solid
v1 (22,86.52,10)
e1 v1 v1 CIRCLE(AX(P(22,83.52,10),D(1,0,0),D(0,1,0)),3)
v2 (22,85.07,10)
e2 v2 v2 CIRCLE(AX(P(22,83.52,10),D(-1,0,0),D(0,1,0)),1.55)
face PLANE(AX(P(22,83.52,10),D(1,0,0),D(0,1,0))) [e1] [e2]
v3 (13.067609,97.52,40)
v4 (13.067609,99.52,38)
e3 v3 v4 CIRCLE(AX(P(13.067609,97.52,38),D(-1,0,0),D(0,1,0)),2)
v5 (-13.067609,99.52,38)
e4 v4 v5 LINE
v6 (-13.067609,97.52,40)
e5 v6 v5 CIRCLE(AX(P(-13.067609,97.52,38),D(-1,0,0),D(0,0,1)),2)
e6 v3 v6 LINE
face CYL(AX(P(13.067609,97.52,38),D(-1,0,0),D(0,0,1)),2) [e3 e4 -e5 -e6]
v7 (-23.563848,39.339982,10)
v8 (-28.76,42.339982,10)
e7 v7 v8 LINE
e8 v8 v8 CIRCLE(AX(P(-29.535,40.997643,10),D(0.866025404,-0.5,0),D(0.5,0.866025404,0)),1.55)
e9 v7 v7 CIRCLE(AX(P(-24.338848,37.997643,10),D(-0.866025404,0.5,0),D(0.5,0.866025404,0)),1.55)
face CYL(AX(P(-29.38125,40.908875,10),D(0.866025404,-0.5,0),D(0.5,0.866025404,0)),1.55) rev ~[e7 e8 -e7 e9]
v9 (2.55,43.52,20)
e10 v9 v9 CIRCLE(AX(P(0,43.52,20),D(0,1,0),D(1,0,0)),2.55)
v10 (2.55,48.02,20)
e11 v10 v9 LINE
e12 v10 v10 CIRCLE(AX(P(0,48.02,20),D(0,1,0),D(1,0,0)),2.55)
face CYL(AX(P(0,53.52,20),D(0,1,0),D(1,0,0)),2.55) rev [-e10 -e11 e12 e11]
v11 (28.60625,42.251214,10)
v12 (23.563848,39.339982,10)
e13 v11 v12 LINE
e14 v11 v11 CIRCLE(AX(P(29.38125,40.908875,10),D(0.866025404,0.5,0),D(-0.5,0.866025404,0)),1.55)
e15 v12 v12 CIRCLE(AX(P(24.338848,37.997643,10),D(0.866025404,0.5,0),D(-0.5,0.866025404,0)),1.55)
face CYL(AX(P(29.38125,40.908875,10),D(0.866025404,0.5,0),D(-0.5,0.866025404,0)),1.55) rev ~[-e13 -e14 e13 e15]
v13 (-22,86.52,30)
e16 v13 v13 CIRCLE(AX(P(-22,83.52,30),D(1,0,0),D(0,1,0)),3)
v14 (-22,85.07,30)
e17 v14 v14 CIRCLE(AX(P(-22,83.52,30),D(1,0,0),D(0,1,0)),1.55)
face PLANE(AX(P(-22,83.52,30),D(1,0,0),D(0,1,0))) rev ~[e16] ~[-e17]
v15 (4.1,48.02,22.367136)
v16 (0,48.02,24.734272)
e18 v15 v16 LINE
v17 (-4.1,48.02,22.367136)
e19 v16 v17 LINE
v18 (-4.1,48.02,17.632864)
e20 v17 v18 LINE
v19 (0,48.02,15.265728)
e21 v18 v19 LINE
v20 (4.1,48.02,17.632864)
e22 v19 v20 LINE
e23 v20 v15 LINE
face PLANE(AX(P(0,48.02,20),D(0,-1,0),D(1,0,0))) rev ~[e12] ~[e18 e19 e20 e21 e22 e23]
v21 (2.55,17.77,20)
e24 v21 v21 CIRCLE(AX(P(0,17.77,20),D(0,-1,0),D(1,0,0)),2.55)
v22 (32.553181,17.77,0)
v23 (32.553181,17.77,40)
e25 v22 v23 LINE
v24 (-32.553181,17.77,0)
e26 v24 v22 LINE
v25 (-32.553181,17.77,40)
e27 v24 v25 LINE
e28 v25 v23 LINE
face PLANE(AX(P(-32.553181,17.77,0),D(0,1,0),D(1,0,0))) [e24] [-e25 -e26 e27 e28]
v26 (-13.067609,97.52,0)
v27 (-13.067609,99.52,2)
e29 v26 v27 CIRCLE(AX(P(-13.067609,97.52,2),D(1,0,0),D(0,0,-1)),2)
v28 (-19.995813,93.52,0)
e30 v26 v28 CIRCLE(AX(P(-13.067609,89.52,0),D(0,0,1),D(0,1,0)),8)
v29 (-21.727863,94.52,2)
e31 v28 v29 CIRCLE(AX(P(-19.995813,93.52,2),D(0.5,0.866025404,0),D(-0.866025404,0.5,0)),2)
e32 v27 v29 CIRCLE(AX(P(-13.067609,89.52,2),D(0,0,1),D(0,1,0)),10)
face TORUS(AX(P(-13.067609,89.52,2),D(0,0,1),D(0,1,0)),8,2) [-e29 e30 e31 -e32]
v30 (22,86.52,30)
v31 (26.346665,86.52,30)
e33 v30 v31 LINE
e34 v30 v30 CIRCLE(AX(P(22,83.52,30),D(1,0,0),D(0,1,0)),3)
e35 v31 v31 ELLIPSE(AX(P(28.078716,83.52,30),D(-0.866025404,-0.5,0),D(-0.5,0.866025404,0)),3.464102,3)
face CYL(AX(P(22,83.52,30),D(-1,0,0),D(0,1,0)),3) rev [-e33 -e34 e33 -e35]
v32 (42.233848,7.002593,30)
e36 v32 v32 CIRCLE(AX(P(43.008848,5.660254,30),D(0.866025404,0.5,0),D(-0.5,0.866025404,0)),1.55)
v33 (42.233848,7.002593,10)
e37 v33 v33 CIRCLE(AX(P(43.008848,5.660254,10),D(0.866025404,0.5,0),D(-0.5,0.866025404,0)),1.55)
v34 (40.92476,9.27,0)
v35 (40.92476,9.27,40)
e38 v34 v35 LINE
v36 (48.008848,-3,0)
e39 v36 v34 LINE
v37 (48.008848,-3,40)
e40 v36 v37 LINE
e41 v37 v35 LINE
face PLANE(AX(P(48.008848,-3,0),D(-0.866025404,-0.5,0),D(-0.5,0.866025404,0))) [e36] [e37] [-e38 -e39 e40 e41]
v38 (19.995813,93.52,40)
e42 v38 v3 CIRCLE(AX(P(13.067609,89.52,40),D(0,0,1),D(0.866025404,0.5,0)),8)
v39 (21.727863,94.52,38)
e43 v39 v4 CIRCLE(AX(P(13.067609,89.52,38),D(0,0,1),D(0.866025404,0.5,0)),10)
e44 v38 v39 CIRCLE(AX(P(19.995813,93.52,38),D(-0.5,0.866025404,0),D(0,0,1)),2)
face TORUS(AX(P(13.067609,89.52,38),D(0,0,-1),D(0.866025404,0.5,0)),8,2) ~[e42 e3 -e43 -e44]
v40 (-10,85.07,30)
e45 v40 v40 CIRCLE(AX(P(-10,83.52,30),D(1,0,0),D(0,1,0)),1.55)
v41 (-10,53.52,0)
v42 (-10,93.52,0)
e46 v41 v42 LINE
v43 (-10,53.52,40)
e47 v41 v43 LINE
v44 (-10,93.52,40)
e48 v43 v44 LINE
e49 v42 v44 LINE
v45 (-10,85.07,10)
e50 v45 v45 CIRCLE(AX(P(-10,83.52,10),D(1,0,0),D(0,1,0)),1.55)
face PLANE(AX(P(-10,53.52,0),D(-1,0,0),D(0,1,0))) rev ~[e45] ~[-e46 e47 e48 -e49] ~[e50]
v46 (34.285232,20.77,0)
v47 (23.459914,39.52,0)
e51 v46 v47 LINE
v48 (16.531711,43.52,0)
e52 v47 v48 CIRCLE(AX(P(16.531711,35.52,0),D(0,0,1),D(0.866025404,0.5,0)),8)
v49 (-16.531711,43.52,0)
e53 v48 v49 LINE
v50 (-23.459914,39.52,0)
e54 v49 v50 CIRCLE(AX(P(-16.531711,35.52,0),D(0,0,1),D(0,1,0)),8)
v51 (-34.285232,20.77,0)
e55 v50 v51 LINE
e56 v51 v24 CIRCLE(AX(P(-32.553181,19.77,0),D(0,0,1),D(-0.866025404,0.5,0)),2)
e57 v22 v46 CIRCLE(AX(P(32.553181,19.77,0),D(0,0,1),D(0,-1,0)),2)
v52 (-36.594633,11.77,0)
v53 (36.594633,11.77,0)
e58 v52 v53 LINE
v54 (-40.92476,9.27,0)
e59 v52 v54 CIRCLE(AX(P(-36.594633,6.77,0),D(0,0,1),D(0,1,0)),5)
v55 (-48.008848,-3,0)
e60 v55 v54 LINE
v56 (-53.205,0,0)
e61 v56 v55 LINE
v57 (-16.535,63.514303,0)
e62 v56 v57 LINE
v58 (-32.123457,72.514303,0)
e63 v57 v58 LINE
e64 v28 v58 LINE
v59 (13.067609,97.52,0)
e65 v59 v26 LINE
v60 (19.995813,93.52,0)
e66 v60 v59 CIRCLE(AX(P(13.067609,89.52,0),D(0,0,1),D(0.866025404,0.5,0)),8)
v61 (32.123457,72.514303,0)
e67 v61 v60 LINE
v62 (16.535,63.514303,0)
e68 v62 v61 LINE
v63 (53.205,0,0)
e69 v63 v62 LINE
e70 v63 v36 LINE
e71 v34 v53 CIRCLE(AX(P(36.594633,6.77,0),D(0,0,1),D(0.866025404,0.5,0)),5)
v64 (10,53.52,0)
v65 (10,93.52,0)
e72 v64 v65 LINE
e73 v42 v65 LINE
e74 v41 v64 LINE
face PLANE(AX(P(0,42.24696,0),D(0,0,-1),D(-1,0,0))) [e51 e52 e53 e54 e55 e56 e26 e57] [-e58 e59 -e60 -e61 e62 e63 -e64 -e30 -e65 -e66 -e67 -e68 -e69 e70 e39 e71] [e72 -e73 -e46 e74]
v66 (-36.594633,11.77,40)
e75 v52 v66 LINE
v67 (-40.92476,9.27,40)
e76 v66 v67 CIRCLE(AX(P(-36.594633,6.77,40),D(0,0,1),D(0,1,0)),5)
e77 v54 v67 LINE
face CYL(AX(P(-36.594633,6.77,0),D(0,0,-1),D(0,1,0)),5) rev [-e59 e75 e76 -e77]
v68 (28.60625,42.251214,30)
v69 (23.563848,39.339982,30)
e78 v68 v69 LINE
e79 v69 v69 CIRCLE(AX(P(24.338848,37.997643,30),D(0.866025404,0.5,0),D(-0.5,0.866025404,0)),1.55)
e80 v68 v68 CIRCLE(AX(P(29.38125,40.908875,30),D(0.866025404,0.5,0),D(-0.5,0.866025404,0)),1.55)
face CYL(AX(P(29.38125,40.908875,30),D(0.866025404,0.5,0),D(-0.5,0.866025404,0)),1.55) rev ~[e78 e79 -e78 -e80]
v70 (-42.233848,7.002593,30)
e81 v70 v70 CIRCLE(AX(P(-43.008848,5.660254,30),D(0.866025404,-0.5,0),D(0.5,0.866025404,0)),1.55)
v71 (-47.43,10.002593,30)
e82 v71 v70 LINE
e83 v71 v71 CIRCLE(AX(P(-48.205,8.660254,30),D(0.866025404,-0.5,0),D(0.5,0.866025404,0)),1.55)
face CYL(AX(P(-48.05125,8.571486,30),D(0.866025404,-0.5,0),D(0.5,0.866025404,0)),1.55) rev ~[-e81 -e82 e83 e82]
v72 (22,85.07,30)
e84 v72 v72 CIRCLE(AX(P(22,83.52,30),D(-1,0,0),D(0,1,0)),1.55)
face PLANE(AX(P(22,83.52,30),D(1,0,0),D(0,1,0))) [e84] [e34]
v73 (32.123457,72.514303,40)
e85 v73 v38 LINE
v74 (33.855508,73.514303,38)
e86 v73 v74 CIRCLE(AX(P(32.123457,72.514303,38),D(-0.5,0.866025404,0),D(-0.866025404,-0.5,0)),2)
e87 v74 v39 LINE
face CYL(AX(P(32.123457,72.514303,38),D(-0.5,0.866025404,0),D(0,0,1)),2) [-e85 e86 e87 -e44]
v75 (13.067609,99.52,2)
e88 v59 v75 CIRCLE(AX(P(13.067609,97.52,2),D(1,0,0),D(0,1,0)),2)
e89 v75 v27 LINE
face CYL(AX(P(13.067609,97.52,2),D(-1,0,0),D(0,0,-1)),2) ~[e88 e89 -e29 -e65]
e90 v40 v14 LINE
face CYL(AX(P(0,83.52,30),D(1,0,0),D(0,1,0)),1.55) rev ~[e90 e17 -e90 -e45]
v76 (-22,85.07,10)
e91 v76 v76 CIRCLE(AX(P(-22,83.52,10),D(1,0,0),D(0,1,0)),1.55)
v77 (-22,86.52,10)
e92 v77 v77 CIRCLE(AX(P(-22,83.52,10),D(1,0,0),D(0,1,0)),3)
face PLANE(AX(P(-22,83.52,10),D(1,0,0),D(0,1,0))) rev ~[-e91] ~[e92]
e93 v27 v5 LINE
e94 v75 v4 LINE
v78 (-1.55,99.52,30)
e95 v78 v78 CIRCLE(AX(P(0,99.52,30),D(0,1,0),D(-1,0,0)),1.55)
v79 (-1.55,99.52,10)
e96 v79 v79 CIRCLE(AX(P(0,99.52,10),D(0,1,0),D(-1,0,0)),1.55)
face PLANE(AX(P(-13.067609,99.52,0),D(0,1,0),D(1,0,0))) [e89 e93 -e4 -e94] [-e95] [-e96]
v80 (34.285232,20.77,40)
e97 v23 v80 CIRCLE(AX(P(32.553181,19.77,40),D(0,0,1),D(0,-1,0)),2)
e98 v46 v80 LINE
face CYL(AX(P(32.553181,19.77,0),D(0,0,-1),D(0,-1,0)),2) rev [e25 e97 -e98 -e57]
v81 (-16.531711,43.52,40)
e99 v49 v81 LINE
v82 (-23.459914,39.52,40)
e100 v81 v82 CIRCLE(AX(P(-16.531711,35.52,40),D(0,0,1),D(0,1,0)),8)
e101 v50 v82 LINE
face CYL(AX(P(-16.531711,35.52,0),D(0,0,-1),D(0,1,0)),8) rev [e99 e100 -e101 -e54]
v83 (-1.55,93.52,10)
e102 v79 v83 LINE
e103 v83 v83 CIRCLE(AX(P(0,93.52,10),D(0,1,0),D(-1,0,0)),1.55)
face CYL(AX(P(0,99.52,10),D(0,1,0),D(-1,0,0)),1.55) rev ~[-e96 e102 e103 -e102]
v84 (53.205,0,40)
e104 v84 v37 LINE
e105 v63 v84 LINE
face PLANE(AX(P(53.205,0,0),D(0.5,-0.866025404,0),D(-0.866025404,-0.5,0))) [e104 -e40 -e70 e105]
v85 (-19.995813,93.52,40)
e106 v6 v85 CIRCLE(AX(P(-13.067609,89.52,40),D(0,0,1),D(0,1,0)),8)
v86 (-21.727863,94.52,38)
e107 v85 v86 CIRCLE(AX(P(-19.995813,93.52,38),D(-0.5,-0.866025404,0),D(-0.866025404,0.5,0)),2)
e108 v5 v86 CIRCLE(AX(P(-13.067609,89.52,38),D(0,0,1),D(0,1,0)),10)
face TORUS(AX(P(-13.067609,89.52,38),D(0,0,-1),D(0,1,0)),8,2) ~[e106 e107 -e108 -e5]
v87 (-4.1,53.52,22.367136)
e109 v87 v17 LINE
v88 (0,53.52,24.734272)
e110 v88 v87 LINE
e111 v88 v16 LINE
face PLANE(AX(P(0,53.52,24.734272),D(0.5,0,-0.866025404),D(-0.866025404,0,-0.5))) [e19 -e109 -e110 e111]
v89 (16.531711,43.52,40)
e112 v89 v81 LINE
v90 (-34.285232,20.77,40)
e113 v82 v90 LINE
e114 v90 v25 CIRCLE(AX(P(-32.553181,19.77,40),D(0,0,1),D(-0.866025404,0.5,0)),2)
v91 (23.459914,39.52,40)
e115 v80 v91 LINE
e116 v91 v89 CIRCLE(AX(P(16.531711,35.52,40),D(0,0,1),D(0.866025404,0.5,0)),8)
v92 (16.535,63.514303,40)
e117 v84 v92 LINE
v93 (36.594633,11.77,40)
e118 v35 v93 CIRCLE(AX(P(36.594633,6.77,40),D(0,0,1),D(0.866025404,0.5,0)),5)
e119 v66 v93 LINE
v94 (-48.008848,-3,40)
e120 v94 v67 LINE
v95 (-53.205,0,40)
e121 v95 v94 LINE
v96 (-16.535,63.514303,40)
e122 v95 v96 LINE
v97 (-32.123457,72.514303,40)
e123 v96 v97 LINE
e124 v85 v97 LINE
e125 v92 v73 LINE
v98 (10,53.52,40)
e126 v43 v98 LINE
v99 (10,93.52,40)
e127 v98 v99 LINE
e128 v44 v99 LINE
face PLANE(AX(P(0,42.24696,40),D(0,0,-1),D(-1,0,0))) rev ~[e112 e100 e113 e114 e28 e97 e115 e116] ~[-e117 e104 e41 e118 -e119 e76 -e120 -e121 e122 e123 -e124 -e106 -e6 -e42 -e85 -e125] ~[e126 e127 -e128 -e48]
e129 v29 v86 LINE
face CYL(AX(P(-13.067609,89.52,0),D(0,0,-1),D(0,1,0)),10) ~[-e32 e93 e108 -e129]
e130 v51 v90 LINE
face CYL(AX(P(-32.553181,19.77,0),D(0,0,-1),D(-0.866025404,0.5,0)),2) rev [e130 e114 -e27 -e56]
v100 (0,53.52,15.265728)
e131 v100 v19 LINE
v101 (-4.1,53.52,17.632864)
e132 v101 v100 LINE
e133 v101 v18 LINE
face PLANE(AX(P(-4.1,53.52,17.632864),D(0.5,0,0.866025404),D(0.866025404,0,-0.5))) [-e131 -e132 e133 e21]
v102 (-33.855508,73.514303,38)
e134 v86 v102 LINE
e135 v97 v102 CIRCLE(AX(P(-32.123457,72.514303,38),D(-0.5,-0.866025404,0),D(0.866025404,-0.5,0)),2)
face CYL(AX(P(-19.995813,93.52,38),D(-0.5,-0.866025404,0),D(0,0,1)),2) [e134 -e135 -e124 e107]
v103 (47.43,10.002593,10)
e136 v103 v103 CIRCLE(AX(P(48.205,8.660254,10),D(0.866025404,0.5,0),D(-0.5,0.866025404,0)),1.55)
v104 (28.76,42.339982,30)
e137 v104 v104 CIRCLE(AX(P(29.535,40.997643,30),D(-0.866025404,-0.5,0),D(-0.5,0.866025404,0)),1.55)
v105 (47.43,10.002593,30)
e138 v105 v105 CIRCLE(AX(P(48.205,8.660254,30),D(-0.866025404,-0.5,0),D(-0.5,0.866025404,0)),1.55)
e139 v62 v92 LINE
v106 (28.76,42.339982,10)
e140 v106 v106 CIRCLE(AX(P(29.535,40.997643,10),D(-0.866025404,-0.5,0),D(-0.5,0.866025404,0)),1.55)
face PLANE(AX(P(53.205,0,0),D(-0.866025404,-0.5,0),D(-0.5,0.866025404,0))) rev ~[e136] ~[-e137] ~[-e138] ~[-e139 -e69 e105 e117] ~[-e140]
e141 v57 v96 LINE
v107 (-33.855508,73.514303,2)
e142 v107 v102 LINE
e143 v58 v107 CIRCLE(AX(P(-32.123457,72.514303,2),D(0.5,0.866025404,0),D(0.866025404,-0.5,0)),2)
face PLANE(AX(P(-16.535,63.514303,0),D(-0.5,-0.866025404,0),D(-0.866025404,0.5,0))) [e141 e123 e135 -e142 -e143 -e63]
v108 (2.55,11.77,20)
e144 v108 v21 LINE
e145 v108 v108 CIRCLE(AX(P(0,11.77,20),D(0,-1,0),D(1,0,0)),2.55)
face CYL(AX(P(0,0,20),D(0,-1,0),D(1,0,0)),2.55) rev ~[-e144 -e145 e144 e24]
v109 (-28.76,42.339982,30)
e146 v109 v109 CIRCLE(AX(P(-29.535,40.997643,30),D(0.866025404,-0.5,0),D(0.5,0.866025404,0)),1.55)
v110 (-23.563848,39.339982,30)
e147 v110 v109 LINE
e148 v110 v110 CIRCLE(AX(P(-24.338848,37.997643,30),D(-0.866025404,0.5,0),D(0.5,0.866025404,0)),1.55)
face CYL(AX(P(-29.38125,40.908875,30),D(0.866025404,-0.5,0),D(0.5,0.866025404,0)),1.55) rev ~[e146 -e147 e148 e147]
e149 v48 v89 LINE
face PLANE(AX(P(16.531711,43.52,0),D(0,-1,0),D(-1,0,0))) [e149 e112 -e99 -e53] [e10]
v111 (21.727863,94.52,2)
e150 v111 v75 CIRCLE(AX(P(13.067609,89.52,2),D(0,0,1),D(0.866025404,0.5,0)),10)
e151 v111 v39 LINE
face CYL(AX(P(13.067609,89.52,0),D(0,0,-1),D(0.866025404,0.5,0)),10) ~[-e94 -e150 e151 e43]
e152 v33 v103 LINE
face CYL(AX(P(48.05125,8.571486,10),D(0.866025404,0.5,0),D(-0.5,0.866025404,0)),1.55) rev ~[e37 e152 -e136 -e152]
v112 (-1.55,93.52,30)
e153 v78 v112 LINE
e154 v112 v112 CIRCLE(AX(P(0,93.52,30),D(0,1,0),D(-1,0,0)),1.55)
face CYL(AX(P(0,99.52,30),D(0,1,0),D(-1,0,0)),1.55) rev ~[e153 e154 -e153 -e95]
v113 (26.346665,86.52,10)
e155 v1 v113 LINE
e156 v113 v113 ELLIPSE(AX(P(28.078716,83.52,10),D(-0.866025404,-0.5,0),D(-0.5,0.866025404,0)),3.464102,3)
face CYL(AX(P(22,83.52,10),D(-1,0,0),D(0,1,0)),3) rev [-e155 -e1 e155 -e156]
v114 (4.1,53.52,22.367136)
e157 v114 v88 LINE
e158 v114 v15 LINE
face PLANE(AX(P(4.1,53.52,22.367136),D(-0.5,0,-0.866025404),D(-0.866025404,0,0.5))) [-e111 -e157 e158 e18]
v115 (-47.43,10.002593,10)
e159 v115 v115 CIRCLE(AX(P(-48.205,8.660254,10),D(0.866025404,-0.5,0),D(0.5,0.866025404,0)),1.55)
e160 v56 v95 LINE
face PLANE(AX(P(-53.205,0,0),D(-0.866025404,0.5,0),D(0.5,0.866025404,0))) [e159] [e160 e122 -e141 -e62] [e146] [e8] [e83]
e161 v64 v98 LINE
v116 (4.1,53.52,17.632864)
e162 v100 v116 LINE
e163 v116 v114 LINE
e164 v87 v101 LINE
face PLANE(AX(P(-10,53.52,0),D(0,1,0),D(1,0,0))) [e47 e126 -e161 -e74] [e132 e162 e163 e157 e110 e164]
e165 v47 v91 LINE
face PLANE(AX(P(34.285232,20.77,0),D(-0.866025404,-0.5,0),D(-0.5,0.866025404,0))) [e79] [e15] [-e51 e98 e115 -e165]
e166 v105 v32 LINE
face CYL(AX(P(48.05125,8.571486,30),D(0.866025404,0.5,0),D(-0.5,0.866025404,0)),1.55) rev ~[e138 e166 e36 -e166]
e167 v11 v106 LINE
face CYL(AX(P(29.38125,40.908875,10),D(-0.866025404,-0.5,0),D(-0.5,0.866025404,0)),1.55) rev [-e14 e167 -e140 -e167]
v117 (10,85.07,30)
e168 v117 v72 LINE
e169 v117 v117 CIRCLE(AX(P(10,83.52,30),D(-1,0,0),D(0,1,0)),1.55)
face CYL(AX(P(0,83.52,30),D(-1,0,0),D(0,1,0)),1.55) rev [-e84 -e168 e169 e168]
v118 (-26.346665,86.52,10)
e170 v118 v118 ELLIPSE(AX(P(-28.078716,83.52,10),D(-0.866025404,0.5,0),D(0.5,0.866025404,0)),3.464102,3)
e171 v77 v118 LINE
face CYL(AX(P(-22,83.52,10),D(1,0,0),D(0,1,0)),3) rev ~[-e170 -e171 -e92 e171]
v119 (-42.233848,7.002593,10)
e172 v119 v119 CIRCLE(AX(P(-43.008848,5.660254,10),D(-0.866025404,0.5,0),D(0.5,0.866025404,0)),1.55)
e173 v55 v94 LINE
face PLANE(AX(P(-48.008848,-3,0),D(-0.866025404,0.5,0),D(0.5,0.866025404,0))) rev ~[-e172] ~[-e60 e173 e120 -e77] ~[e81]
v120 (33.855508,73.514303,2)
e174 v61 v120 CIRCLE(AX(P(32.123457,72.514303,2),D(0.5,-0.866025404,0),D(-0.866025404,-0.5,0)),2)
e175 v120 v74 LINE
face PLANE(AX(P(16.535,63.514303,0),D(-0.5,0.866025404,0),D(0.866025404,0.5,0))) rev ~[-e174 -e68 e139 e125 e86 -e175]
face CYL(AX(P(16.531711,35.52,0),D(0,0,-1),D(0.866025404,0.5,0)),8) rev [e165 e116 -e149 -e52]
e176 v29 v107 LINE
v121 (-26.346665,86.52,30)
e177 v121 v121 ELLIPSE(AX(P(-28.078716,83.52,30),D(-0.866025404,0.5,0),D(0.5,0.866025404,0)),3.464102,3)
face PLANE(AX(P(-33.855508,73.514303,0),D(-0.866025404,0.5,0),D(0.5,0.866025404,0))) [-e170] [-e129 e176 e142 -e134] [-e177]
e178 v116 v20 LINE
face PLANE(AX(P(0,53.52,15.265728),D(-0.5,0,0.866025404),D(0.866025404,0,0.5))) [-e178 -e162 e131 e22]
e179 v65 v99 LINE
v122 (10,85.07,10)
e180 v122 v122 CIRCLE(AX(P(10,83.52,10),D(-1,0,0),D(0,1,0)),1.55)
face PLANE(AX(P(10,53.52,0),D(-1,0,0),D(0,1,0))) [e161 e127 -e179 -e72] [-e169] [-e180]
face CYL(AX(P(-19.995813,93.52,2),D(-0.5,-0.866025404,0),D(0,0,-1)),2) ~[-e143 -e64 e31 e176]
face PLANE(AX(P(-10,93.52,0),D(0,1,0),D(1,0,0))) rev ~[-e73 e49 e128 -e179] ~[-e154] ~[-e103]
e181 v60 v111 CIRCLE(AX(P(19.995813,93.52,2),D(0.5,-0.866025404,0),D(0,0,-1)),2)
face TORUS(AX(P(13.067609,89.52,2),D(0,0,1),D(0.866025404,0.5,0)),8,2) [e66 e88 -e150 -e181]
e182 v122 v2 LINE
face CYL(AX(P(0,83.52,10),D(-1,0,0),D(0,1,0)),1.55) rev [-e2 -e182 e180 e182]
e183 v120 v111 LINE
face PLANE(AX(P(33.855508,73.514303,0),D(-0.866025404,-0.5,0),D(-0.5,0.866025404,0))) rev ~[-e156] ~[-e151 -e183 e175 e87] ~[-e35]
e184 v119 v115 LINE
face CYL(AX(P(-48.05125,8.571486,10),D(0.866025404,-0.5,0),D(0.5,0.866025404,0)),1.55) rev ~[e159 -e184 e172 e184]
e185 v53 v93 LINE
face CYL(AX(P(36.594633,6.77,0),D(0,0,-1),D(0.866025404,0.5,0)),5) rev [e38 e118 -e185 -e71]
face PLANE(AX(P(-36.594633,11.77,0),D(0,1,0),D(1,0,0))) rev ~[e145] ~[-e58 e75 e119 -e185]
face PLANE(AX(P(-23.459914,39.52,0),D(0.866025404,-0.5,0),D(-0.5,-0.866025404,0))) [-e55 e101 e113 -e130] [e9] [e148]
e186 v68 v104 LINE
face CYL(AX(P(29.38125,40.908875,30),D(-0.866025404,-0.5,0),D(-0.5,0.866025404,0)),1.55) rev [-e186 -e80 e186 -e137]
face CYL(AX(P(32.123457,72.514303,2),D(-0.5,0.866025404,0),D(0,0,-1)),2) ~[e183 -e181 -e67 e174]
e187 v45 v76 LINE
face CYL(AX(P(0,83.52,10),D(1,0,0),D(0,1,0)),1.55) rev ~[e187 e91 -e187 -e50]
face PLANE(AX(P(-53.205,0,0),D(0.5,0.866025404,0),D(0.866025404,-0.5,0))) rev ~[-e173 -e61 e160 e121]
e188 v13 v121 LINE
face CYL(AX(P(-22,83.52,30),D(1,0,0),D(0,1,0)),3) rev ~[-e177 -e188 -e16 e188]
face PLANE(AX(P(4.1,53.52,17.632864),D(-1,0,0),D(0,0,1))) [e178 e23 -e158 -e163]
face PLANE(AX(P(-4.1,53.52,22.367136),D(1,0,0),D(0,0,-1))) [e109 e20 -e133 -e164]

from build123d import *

# Parameters (mm, degrees)
SKETCH006_W          = 20
SKETCH006_H          = 40
PAD001_DEPTH         = 40
SKETCH007_R          = 1.55
POCKET005_DEPTH      = 6
SKETCH008_R          = 1.55
POCKET006_DEPTH      = 6
SKETCH009_R          = 1.55
POCKET007_DEPTH      = 8
SKETCH010_R          = 2.55
POCKET008_DEPTH      = 20
SKETCH011_R          = 2.55
POCKET009_DEPTH      = 14
POCKET010_DEPTH      = 5.5
SKETCH016_R          = 1.55
POCKET014_DEPTH      = 53.206
POCKET014_DEPTH_BACK = 53.206
SKETCH017_R          = 3
POCKET015_DEPTH      = 31.206
SKETCH018_R          = 3
POCKET016_DEPTH      = 31.206
FILLET001_R          = 2


with BuildPart() as part:
    # Sketch006 → Pad001 (new body)
    with BuildSketch(Plane.XY):
        with BuildLine():
            Line((-53.205, 0), (-16.535, 63.5143031136))
            Line((-16.535, 63.5143031136), (-33.8555080757, 73.5143031136))
            Line((-33.8555080757, 73.5143031136), (-21.7278633238, 94.52))
            ThreePointArc((-13.0676092859, 99.52), (-18.0676092859, 98.1802540378), (-21.7278633238, 94.52))
            Line((-13.0676092859, 99.52), (13.0676092859, 99.52))
            ThreePointArc((21.7278633238, 94.52), (18.0676092859, 98.1802540378), (13.0676092859, 99.52))
            Line((33.8555080757, 73.5143031136), (21.7278633238, 94.52))
            Line((16.535, 63.5143031136), (33.8555080757, 73.5143031136))
            Line((53.205, 0), (16.535, 63.5143031136))
            Line((53.205, 0), (48.0088475773, -3))
            Line((48.0088475773, -3), (40.9247597743, 9.27))
            ThreePointArc((40.9247597743, 9.27), (39.0946327554, 11.1001270189), (36.5946327554, 11.77))
            Line((-36.5946327554, 11.77), (36.5946327554, 11.77))
            ThreePointArc((-36.5946327554, 11.77), (-39.0946327554, 11.1001270189), (-40.9247597743, 9.27))
            Line((-48.0088475773, -3), (-40.9247597743, 9.27))
            Line((-53.205, 0), (-48.0088475773, -3))
        make_face()
        with Locations((0, 73.52)):
            Rectangle(SKETCH006_W, SKETCH006_H, mode=Mode.SUBTRACT)
        with BuildLine():
            Line((-23.4599141314, 39.52), (-34.2852316787, 20.77))
            ThreePointArc((-34.2852316787, 20.77), (-34.2852316787, 18.77), (-32.5531808711, 17.77))
            Line((-32.5531808711, 17.77), (32.5531808711, 17.77))
            ThreePointArc((32.5531808711, 17.77), (34.2852316787, 18.77), (34.2852316787, 20.77))
            Line((34.2852316787, 20.77), (23.4599141314, 39.52))
            ThreePointArc((23.4599141314, 39.52), (20.5317109011, 42.4482032303), (16.5317109011, 43.52))
            Line((16.5317109011, 43.52), (-16.5317109011, 43.52))
            ThreePointArc((-16.5317109011, 43.52), (-20.5317109011, 42.4482032303), (-23.4599141314, 39.52))
        make_face(mode=Mode.SUBTRACT)
    extrude(amount=PAD001_DEPTH)

    # Sketch007 (on DatumPlane) → Pocket005 (cut, symmetric)
    with BuildSketch(Plane(origin=(53, 0, 0), x_dir=(-0.5, 0.8660254038, 0), z_dir=(0.8660254038, 0.5, 0))):
        with Locations((47.2375, 30)):
            Circle(SKETCH007_R)
        with Locations((9.8975, 30)):
            Circle(SKETCH007_R)
        with Locations((47.2375, 10)):
            Circle(SKETCH007_R)
        with Locations((9.8975, 10)):
            Circle(SKETCH007_R)
    extrude(amount=POCKET005_DEPTH, both=True, mode=Mode.SUBTRACT)

    # Sketch008 (on DatumPlane) → Pocket006 (cut, symmetric)
    with BuildSketch(Plane(origin=(-53, 0, 0), x_dir=(0.5, 0.8660254038, 0), z_dir=(0.8660254038, -0.5, 0))):
        with Locations((47.2375, 30)):
            Circle(SKETCH008_R)
        with Locations((47.2375, 10)):
            Circle(SKETCH008_R)
        with Locations((9.8975, 10)):
            Circle(SKETCH008_R)
        with Locations((9.8975, 30)):
            Circle(SKETCH008_R)
    extrude(amount=POCKET006_DEPTH, both=True, mode=Mode.SUBTRACT)

    # Sketch009 → Pocket007 (cut)
    with BuildSketch(Plane(origin=(0, 99.52, 0), x_dir=(-1, 0, 0), z_dir=(0, 1, 0))):
        with Locations((0, 30)):
            Circle(SKETCH009_R)
        with Locations((0, 10)):
            Circle(SKETCH009_R)
    extrude(amount=-POCKET007_DEPTH, mode=Mode.SUBTRACT)

    # Sketch010 → Pocket008 (cut)
    with BuildSketch(Plane.XZ):
        with Locations((0, 20)):
            Circle(SKETCH010_R)
    extrude(amount=-POCKET008_DEPTH, mode=Mode.SUBTRACT)

    # Sketch011 → Pocket009 (cut)
    with BuildSketch(Plane.XZ.offset(-53.52)):
        with Locations((0, 20)):
            Circle(SKETCH011_R)
    extrude(amount=POCKET009_DEPTH, mode=Mode.SUBTRACT)

    # Sketch012 → Pocket010 (cut)
    with BuildSketch(Plane.XZ.offset(-53.52)):
        Polygon((4.1, 17.6328638963), (4.1, 22.3671361037), (0, 24.7342722074), (-4.1, 22.3671361037), (-4.1, 17.6328638963), (0, 15.2657277926), align=None)
    extrude(amount=POCKET010_DEPTH, mode=Mode.SUBTRACT)

    # Sketch016 → Pocket014 (cut, two sides)
    with BuildSketch(Plane.YZ) as pocket014_sk:
        with Locations((83.52, 30)):
            Circle(SKETCH016_R)
        with Locations((83.52, 10)):
            Circle(SKETCH016_R)
    extrude(amount=-POCKET014_DEPTH, mode=Mode.SUBTRACT)
    extrude(pocket014_sk.sketch, amount=POCKET014_DEPTH_BACK, mode=Mode.SUBTRACT)

    # Sketch017 → Pocket015 (cut, through all)
    with BuildSketch(Plane.YZ.offset(22)):
        with Locations((83.52, 30)):
            Circle(SKETCH017_R)
        with Locations((83.52, 10)):
            Circle(SKETCH017_R)
    extrude(amount=POCKET015_DEPTH, mode=Mode.SUBTRACT)

    # Sketch018 → Pocket016 (cut, through all)
    with BuildSketch(Plane.YZ.offset(-22)):
        with Locations((83.52, 30)):
            Circle(SKETCH018_R)
        with Locations((83.52, 10)):
            Circle(SKETCH018_R)
    extrude(amount=-POCKET016_DEPTH, mode=Mode.SUBTRACT)

    # Fillet001
    fillet001_edges = [part.edges().sort_by_distance(p)[0] for p in [
        (27.791686, 84.017152, 40),
        (18.067609, 98.180254, 40),
        (0, 99.52, 40),
        (-18.067609, 98.180254, 40),
        (-27.791686, 84.017152, 40),
        (27.791686, 84.017152, 0),
        (18.067609, 98.180254, 0),
        (0, 99.52, 0),
        (-18.067609, 98.180254, 0),
        (-27.791686, 84.017152, 0),
    ]]
    fillet(fillet001_edges, radius=FILLET001_R)


solid = part.part
